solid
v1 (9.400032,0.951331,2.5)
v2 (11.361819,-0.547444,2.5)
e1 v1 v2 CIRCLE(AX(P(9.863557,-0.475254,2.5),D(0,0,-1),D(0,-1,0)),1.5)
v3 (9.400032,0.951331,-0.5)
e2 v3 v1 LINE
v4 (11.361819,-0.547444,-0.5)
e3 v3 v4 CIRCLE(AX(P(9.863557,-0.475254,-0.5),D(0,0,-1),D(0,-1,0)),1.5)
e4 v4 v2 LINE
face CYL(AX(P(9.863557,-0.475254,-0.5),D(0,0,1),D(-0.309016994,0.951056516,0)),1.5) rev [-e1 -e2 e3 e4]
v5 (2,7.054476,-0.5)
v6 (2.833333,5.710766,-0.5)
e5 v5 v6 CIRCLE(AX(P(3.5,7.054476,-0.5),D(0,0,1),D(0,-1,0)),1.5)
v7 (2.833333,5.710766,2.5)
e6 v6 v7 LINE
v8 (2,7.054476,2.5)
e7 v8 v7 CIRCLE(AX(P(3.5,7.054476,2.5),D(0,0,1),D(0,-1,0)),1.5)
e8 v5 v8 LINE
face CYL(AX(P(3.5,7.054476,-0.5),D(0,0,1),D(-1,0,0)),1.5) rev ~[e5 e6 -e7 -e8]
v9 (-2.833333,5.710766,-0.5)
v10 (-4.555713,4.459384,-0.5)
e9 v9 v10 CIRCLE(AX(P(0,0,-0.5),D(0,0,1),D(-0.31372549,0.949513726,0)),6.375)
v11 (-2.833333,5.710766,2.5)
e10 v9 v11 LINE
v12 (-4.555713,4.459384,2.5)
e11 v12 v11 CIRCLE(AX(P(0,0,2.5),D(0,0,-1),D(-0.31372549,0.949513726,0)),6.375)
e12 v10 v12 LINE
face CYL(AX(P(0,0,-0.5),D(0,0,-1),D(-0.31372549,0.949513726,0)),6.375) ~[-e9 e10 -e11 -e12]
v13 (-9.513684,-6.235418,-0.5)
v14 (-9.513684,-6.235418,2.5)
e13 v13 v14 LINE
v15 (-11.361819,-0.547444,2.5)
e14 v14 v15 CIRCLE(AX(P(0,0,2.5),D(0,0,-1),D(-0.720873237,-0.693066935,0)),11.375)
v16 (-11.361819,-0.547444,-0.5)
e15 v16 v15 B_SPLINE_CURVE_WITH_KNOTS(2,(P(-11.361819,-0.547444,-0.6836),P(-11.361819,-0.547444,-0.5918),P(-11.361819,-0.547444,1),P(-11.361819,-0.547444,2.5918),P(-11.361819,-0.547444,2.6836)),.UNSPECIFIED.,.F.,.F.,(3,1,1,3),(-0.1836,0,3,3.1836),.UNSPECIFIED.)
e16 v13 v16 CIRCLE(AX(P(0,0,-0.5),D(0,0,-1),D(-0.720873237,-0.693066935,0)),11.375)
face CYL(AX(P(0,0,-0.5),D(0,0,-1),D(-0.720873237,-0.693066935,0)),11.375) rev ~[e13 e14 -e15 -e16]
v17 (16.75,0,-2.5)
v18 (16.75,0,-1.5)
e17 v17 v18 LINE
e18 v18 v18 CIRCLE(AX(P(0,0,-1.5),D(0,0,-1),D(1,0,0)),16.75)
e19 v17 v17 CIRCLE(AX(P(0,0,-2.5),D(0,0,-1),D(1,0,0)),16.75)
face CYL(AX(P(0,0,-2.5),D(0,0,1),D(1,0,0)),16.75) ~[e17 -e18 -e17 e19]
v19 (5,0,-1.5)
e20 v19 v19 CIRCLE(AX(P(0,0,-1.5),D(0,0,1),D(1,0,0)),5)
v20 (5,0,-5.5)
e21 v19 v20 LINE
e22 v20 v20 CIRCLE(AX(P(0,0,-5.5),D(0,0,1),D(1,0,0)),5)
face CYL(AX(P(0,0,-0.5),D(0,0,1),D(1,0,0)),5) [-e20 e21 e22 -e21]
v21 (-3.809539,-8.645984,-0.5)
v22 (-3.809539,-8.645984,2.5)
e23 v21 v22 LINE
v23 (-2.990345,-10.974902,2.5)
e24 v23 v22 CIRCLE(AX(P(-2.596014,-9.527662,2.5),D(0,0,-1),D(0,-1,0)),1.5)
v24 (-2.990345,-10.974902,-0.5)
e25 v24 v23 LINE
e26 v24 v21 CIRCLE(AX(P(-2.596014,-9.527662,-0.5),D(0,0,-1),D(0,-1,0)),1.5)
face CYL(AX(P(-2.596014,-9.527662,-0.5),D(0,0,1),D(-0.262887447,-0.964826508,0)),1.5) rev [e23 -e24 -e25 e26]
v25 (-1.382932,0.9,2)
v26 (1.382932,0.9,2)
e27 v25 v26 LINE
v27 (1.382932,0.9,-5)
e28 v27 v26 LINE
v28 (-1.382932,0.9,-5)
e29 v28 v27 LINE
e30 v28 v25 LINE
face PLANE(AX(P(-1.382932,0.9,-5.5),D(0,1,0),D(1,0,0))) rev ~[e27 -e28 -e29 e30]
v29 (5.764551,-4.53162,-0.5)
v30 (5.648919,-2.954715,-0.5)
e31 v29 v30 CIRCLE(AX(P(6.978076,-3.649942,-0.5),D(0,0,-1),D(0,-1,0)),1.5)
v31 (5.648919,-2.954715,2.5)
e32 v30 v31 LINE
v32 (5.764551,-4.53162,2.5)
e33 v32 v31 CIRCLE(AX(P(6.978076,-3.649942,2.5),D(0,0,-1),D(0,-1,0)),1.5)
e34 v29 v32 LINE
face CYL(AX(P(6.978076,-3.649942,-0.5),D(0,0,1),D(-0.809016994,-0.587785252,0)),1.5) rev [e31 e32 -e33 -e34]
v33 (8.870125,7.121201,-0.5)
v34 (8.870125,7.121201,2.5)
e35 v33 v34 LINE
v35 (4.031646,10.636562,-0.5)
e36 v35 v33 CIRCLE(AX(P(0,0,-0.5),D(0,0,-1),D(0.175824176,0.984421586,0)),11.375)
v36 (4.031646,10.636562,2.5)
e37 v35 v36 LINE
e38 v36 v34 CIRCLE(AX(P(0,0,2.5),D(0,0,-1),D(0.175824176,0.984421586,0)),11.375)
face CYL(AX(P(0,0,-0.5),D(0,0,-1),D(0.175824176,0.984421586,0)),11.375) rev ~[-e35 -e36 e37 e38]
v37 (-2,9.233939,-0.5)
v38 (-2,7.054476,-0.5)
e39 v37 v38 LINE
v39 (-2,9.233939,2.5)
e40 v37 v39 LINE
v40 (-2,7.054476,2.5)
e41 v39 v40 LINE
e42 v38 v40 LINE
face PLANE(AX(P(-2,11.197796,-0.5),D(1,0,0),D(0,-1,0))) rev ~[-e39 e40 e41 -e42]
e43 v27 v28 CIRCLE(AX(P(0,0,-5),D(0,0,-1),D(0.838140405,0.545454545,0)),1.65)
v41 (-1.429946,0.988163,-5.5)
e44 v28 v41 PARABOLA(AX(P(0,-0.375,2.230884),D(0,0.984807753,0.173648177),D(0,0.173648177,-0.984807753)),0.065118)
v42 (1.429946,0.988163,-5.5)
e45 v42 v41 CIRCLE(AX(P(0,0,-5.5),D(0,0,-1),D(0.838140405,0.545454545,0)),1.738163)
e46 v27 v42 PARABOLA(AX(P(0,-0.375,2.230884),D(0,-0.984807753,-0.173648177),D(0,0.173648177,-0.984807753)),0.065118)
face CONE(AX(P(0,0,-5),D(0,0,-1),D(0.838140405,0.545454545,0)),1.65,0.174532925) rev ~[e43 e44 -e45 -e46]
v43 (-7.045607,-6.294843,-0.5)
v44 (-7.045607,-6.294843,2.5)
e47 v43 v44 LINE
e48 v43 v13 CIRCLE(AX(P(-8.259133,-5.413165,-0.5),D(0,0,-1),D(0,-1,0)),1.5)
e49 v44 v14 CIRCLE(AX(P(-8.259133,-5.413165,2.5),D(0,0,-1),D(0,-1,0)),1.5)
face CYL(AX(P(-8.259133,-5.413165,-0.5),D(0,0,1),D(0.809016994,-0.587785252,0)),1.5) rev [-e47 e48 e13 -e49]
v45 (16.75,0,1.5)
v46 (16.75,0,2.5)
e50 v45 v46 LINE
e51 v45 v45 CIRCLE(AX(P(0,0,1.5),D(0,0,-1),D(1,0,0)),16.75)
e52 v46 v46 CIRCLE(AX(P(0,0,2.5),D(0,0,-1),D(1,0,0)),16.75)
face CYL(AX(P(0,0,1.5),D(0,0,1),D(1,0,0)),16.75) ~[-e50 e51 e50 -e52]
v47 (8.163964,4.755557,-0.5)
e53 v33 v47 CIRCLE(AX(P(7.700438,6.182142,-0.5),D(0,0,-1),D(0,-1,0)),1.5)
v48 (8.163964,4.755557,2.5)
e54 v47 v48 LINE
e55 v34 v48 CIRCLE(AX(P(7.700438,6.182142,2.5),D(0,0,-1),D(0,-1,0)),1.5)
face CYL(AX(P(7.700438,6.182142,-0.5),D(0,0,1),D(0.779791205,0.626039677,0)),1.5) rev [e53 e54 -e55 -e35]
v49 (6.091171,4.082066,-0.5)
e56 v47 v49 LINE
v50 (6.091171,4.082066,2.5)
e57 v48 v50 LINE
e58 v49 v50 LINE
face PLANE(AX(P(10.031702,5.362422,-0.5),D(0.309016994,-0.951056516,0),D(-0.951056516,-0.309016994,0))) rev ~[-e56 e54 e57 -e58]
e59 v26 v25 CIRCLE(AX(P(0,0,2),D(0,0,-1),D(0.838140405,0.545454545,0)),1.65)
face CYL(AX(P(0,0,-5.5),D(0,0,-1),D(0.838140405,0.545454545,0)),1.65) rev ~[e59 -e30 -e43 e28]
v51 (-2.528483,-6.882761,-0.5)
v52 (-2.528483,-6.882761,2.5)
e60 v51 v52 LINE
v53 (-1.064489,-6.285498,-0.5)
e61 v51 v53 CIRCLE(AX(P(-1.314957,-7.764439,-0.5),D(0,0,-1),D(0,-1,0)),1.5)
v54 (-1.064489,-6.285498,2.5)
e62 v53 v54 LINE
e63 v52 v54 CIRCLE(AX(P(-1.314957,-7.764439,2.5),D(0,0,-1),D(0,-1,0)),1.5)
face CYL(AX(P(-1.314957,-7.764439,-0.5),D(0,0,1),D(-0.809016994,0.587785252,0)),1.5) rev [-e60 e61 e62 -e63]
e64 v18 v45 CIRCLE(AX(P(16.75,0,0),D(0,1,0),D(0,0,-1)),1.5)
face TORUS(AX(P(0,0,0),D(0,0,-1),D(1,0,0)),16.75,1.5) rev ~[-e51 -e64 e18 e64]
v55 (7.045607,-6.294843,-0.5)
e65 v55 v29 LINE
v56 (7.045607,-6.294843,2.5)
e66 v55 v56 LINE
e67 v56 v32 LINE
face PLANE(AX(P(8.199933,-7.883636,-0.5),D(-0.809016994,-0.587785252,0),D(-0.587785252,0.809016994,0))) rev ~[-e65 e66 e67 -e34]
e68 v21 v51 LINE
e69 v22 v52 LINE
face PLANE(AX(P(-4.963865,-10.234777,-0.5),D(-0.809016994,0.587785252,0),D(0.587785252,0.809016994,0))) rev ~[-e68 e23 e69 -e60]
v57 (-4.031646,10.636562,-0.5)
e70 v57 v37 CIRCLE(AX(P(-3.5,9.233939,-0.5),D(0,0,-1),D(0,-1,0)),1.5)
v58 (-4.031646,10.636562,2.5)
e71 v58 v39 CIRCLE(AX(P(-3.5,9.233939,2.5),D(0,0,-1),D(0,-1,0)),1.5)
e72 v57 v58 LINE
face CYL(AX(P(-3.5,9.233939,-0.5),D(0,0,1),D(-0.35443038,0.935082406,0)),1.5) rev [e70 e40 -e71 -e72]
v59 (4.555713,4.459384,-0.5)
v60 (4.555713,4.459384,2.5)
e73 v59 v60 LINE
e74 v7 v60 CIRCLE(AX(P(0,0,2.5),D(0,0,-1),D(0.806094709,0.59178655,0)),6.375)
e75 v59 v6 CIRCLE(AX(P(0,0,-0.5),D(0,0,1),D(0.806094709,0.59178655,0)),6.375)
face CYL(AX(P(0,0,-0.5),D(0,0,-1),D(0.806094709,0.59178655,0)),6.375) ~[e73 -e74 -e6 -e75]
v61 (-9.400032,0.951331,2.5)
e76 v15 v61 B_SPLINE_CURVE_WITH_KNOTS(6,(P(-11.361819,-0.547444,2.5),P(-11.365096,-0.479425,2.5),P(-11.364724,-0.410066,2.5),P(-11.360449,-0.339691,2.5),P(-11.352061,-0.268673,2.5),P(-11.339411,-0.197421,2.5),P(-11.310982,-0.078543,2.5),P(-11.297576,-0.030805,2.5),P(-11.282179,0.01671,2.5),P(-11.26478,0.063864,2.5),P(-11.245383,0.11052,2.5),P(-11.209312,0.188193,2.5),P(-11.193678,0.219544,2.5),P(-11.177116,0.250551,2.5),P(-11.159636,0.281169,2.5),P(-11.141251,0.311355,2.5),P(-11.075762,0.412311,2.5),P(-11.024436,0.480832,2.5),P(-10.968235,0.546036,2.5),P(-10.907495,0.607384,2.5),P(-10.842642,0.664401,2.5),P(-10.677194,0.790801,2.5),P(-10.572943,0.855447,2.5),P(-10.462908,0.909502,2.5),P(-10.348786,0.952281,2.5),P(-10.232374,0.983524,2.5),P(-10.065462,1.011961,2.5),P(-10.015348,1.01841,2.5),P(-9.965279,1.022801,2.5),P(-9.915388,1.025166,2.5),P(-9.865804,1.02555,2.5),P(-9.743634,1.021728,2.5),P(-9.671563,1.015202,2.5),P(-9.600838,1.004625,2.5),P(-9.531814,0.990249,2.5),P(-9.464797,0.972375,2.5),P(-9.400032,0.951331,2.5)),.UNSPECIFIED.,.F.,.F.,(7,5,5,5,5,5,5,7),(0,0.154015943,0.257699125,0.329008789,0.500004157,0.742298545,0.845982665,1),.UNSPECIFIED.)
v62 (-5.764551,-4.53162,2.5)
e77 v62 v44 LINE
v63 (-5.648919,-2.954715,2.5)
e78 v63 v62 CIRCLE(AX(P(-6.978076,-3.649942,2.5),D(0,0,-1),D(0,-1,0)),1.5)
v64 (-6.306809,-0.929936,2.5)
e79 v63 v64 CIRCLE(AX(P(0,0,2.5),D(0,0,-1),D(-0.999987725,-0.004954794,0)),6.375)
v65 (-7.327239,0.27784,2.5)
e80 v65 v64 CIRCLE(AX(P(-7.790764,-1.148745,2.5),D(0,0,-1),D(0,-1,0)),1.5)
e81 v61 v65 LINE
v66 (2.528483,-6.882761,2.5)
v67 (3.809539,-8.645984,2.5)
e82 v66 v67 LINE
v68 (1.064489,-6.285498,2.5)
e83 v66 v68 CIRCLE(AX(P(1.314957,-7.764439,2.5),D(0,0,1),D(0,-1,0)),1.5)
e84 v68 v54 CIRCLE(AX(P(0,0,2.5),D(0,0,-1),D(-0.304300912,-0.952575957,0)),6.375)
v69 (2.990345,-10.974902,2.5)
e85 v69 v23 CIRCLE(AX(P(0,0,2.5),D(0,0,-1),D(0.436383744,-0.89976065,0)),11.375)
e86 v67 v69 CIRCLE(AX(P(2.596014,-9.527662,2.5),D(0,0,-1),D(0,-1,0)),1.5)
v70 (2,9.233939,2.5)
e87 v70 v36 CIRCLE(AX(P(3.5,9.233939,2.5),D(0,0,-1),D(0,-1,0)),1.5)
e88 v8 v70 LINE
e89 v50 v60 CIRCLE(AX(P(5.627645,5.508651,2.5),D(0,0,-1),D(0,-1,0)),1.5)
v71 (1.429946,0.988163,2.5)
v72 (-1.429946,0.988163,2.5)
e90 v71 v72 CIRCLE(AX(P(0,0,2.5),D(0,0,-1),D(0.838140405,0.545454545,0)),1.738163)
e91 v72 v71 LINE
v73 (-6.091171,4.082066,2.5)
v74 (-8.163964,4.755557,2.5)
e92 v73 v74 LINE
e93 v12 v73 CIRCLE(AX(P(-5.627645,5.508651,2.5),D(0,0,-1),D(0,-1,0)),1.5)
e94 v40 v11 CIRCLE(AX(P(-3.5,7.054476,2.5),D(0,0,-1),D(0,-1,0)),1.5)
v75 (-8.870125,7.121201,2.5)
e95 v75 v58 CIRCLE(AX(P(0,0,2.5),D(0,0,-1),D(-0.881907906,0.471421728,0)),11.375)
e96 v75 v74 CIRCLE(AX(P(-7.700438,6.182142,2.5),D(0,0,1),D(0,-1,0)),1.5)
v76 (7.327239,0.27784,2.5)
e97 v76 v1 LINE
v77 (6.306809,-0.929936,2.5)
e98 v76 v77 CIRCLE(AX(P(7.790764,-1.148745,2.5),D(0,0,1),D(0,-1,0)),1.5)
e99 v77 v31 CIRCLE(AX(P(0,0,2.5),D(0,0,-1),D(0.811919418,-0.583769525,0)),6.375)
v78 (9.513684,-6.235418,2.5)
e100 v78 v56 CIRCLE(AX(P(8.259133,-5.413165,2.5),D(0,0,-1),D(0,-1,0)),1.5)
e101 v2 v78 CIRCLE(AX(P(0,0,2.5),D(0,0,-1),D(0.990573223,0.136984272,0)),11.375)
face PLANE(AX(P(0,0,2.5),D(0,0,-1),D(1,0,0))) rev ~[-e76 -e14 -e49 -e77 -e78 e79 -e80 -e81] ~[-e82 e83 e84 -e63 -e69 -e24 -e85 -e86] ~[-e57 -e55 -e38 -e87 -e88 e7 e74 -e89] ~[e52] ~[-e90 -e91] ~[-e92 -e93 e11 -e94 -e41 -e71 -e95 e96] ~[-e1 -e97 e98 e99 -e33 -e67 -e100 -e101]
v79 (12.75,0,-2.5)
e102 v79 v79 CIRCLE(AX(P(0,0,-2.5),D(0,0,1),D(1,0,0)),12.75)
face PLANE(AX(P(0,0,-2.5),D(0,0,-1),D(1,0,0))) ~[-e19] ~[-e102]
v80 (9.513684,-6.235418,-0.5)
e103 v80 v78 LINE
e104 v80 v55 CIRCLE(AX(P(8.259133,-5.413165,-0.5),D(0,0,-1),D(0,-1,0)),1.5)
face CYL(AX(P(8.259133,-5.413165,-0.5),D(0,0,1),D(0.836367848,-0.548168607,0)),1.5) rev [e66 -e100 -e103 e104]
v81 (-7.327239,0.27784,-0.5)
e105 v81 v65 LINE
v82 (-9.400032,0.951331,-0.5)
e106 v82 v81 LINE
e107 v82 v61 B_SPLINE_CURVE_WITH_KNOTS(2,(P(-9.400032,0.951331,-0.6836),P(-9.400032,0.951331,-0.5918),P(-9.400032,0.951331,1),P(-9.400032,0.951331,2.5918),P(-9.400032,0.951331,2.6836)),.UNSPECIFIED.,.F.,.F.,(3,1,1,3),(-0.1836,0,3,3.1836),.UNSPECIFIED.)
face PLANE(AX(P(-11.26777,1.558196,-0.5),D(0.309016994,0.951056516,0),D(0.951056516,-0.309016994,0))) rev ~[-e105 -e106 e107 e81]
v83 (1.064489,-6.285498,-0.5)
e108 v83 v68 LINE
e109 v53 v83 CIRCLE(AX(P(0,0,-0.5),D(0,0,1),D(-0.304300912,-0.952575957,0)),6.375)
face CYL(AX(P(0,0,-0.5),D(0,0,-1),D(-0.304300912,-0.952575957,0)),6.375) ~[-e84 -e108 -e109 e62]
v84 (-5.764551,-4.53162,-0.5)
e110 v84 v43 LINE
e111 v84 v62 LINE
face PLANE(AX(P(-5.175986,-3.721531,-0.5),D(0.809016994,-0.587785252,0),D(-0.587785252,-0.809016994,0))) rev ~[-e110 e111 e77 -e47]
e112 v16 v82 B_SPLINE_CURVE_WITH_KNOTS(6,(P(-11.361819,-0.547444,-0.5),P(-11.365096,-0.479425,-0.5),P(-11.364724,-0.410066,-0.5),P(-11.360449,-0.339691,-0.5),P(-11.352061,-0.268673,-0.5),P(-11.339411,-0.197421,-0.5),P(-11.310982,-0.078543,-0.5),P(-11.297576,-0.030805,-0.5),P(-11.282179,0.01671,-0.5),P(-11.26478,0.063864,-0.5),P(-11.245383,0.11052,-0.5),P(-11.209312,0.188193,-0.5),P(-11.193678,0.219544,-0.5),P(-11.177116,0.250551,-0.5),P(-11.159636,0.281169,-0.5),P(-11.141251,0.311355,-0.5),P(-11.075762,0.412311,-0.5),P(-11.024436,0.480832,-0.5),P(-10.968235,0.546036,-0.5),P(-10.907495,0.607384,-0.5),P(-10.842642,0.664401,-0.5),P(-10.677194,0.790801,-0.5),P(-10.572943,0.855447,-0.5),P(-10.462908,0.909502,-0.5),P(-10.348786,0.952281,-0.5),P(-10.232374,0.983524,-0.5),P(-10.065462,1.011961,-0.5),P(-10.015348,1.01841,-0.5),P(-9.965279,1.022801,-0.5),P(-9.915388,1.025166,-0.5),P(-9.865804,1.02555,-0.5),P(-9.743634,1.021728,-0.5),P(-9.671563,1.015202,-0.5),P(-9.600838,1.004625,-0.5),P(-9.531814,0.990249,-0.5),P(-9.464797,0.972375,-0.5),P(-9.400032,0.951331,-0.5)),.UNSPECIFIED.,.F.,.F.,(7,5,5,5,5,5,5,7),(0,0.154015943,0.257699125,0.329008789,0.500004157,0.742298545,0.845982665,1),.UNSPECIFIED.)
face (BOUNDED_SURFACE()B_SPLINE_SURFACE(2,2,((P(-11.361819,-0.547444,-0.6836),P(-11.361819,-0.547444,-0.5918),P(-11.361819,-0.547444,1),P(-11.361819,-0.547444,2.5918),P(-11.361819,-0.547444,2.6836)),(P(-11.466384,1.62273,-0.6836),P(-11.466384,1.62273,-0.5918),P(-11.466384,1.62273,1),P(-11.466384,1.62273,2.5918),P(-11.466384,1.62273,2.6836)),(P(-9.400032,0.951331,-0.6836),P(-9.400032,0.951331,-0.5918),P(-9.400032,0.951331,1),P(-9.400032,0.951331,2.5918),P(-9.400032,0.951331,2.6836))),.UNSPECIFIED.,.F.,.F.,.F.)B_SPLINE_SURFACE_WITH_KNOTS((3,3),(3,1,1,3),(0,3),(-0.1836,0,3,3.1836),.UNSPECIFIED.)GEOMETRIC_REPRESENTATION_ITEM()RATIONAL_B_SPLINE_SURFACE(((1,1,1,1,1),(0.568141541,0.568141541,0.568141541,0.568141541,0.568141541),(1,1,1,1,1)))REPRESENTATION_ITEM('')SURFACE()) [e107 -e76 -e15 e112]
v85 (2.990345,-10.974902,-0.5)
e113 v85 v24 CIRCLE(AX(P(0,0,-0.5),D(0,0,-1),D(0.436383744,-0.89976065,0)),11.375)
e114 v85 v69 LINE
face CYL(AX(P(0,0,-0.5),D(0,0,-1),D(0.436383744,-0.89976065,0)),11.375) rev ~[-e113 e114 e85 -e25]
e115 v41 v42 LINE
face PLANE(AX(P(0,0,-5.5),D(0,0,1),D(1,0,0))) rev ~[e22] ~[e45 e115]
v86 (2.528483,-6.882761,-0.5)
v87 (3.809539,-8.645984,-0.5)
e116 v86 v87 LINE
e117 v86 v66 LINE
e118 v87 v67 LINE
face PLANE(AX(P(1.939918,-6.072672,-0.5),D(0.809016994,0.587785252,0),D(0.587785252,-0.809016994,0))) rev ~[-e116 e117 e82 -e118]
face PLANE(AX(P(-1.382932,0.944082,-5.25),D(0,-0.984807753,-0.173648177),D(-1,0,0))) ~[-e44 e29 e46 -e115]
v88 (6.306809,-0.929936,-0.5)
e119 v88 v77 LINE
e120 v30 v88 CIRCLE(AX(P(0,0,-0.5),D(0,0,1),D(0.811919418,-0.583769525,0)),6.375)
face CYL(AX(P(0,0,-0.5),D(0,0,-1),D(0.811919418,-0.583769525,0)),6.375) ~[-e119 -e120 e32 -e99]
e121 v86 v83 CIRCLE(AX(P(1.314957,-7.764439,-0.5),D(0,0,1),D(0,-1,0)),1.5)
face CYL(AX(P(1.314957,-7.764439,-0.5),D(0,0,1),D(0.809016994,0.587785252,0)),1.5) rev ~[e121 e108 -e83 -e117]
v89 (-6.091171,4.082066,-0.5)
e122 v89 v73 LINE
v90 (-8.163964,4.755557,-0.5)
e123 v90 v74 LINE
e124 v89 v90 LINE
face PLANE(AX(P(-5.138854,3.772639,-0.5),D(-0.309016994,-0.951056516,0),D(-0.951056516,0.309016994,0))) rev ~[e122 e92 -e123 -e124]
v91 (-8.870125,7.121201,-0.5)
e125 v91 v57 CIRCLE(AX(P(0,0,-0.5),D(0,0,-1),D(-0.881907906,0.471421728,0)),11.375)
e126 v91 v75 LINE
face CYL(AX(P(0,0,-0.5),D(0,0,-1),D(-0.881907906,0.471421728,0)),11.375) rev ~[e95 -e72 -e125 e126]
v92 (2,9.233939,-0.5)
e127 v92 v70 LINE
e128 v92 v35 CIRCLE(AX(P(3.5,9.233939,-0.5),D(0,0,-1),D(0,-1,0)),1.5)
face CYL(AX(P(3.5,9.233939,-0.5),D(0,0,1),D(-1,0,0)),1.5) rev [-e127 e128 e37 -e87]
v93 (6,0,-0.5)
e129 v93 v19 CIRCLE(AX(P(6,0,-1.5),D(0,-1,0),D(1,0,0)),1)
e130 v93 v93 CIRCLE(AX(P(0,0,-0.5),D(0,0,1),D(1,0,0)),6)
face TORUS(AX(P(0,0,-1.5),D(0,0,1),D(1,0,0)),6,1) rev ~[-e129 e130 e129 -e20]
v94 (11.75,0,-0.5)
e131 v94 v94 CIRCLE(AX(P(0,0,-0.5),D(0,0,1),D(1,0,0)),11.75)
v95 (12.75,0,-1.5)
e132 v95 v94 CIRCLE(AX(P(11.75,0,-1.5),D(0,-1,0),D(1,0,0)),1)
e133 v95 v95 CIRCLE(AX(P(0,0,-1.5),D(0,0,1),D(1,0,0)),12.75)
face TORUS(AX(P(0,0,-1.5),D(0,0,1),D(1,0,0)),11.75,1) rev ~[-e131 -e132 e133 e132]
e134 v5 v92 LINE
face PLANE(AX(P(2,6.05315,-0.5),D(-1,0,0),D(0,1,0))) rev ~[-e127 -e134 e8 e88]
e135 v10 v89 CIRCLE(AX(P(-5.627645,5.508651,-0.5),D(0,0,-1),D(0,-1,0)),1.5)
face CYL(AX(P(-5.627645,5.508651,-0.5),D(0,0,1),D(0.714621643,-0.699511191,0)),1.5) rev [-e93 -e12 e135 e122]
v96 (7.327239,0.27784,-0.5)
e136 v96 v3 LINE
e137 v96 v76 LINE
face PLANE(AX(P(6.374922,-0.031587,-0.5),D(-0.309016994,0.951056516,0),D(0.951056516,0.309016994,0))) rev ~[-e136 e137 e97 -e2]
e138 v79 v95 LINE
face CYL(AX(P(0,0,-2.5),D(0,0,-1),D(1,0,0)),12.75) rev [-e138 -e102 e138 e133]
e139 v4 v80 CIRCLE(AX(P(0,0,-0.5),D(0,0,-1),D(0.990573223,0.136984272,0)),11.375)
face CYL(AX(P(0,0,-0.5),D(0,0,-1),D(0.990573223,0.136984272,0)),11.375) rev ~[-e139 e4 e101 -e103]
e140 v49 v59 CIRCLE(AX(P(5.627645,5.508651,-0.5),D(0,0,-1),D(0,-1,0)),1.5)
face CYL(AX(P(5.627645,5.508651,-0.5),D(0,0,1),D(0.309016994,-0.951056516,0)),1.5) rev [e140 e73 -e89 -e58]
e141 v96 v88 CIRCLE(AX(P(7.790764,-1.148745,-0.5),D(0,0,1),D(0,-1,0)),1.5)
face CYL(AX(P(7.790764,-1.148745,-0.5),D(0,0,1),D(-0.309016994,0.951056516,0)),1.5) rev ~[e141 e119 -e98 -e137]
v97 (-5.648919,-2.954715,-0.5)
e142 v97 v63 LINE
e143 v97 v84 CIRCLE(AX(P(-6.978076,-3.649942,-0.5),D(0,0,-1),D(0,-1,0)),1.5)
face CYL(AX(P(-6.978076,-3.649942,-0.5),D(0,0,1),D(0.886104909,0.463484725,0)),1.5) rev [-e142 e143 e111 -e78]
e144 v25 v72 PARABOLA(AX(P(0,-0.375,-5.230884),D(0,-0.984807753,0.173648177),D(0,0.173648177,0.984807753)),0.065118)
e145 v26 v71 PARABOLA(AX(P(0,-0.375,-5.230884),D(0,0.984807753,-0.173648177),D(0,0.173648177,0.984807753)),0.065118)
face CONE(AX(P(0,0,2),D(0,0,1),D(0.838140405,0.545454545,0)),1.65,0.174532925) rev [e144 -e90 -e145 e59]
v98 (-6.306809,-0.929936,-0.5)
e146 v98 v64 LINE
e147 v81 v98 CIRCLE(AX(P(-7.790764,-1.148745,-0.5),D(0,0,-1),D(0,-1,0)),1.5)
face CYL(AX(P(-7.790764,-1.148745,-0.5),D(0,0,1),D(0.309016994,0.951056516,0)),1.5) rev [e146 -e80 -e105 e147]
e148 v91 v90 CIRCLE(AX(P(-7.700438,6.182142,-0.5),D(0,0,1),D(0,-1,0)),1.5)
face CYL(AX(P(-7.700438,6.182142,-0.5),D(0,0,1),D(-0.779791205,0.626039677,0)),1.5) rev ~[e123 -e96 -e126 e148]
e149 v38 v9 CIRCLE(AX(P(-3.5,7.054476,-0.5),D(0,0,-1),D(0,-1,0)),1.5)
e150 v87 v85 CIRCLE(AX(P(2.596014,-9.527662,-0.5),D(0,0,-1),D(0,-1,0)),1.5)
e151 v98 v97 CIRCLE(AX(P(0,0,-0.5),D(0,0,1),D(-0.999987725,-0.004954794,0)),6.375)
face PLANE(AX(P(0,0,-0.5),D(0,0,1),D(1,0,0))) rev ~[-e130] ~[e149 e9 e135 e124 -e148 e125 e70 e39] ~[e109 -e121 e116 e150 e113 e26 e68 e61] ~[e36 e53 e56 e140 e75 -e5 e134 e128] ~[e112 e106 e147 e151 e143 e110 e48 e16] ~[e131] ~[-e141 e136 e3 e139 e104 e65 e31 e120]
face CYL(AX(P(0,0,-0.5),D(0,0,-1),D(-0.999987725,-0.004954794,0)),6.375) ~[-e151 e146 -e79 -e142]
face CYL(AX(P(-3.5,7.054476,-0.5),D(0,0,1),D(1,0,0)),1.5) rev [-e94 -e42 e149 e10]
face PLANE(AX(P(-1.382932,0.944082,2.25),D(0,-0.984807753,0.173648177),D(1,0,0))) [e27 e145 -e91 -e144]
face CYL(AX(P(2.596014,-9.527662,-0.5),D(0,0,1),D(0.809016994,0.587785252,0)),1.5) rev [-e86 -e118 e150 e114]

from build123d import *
from OCP.BRepFilletAPI import BRepFilletAPI_MakeChamfer

# Parameters (mm, degrees)
SKETCH7_R           = 12.75
CUT_EXTRUDE3_DEPTH  = 2
SKETCH8_R           = 5
BOSS_EXTRUDE1_DEPTH = 5
CUT_EXTRUDE4_DEPTH  = 26.002499875
FILLET1_R           = 1
CHAMFER1_SIZE       = 0.5
CHAMFER1_SIZE2      = 0.08816349
CHAMFER2_SIZE       = 0.5
CHAMFER2_SIZE2      = 0.08816349
CUT_EXTRUDE7_DEPTH  = 25.210018587
FILLET3_R           = 1.5


with BuildPart() as part:
    # Sketch3 → Revolve1 (revolve)
    with BuildSketch(Plane(origin=(0, 0, 0), x_dir=(1, 0, 0), z_dir=(0, 1, 0)), mode=Mode.PRIVATE) as revolve1_sk:
        with BuildLine():
            Line((0, -2.5), (0, 2.5))
            Line((0, 2.5), (-16.75, 2.5))
            Line((-16.75, 2.5), (-16.75, 1.5))
            ThreePointArc((-16.75, 1.5), (-15.25, 0), (-16.75, -1.5))
            Line((-16.75, -1.5), (-16.75, -2.5))
            Line((-16.75, -2.5), (0, -2.5))
        make_face()
    revolve(revolve1_sk.sketch.rotate(Axis((0, 0, 2.5), (0, 0, -1)), 180), axis=Axis((0, 0, 2.5), (0, 0, -1)))

    # Sketch7 → Cut-Extrude3 (cut)
    with BuildSketch(Plane.XY.offset(-2.5)):
        Circle(SKETCH7_R)
    extrude(amount=CUT_EXTRUDE3_DEPTH, mode=Mode.SUBTRACT)

    # Sketch8 → Boss-Extrude1 (add)
    with BuildSketch(Plane.XY.offset(-0.5)):
        Circle(SKETCH8_R)
    extrude(amount=-BOSS_EXTRUDE1_DEPTH)

    # Sketch6 → Cut-Extrude4 (cut, through all)
    with BuildSketch(Plane.XY.offset(-5.5)):
        with BuildLine():
            Line((-1.382931669, 0.9), (1.382931669, 0.9))
            ThreePointArc((1.382931669, 0.9), (0, -1.65), (-1.382931669, 0.9))
        make_face()
    extrude(amount=CUT_EXTRUDE4_DEPTH, mode=Mode.SUBTRACT)

    # Fillet1
    fillet1_edges = [part.edges().sort_by_distance(p)[0] for p in [
        (-12.75, 0, -0.5),
        (-5, 0, -0.5),
    ]]
    fillet(fillet1_edges, radius=FILLET1_R)

    # Chamfer1: one chamfer whose edges measure the first distance from different faces: ONE call of the kernel's chamfer builder (chamfer() names one face for all edges)
    chamfer1_edges_1 = [part.edges().sort_by_distance(p)[0] for p in [
        (0, -1.65, -5.5),
    ]]
    chamfer1_side_1 = [part.faces().sort_by_distance(p)[0] for p in [
        (0, -1.65, -1.5),
    ]]
    chamfer1_edges_2 = [part.edges().sort_by_distance(p)[0] for p in [
        (0, 0.9, -5.5),
    ]]
    chamfer1_side_2 = [part.faces().sort_by_distance(p)[0] for p in [
        (0, 0.9, -1.5),
    ]]
    chamfer1 = BRepFilletAPI_MakeChamfer(part.part.solid().wrapped)
    for e in chamfer1_edges_1:
        chamfer1.Add(CHAMFER1_SIZE, CHAMFER1_SIZE2, e.wrapped, chamfer1_side_1[0].wrapped)  # the first distance lies on this face
    for e in chamfer1_edges_2:
        chamfer1.Add(CHAMFER1_SIZE, CHAMFER1_SIZE2, e.wrapped, chamfer1_side_2[0].wrapped)  # the first distance lies on this face
    add(Compound.cast(chamfer1.Shape()), mode=Mode.REPLACE)

    # Chamfer2: one chamfer whose edges measure the first distance from different faces: ONE call of the kernel's chamfer builder (chamfer() names one face for all edges)
    chamfer2_edges_1 = [part.edges().sort_by_distance(p)[0] for p in [
        (0, 0.9, 2.5),
    ]]
    chamfer2_side_1 = [part.faces().sort_by_distance(p)[0] for p in [
        (0, 0.9, -1.25),
    ]]
    chamfer2_edges_2 = [part.edges().sort_by_distance(p)[0] for p in [
        (0, -1.65, 2.5),
    ]]
    chamfer2_side_2 = [part.faces().sort_by_distance(p)[0] for p in [
        (0, -1.65, -1.25),
    ]]
    chamfer2 = BRepFilletAPI_MakeChamfer(part.part.solid().wrapped)
    for e in chamfer2_edges_1:
        chamfer2.Add(CHAMFER2_SIZE, CHAMFER2_SIZE2, e.wrapped, chamfer2_side_1[0].wrapped)  # the first distance lies on this face
    for e in chamfer2_edges_2:
        chamfer2.Add(CHAMFER2_SIZE, CHAMFER2_SIZE2, e.wrapped, chamfer2_side_2[0].wrapped)  # the first distance lies on this face
    add(Compound.cast(chamfer2.Shape()), mode=Mode.REPLACE)

    # Sketch11 → Cut-Extrude7 (cut, through all)
    with BuildSketch(Plane(origin=(0, 0, -0.5), x_dir=(-1, 0, 0), z_dir=(0, 0, -1))):
        with BuildLine():
            Line((-2, 6.053150006), (-2, 11.197795542))
            ThreePointArc((-2, 11.197795542), (-6.686057245, 9.202568311), (-10.03170243, 5.362422155))
            Line((-10.03170243, 5.362422155), (-5.138853769, 3.772639254))
            ThreePointArc((-5.138853769, 3.772639254), (-3.747130983, 5.157483339), (-2, 6.053150006))
        make_face()
        with BuildLine():
            ThreePointArc((10.03170243, 5.362422155), (6.686057245, 9.202568311), (2, 11.197795542))
            Line((2, 11.197795542), (2, 6.053150006))
            ThreePointArc((2, 6.053150006), (3.747130983, 5.157483339), (5.138853769, 3.772639254))
            Line((5.138853769, 3.772639254), (10.03170243, 5.362422155))
        make_face()
        with BuildLine():
            Line((-6.374921746, -0.031586811), (-11.267770407, 1.558196089))
            ThreePointArc((-11.267770407, 1.558196089), (-10.818267873, -3.515068311), (-8.199933067, -7.883636388))
            Line((-8.199933067, -7.883636388), (-5.175986292, -3.72153072))
            ThreePointArc((-5.175986292, -3.72153072), (-6.062985291, -1.969983339), (-6.374921746, -0.031586811))
        make_face()
        with BuildLine():
            ThreePointArc((11.375, 0), (11.348160939, 0.780940657), (11.267770407, 1.558196089))
            Line((11.267770407, 1.558196089), (6.374921746, -0.031586811))
            ThreePointArc((6.374921746, -0.031586811), (6.062985291, -1.969983339), (5.175986292, -3.72153072))
            Line((5.175986292, -3.72153072), (8.199933067, -7.883636388))
            ThreePointArc((8.199933067, -7.883636388), (10.551418474, -4.249493286), (11.375, 0))
        make_face()
        with BuildLine():
            Line((-1.939918315, -6.072671729), (-4.963865089, -10.234777398))
            ThreePointArc((-4.963865089, -10.234777398), (0, -11.375), (4.963865089, -10.234777398))
            Line((4.963865089, -10.234777398), (1.939918315, -6.072671729))
            ThreePointArc((1.939918315, -6.072671729), (0, -6.375), (-1.939918315, -6.072671729))
        make_face()
    extrude(amount=-CUT_EXTRUDE7_DEPTH, mode=Mode.SUBTRACT)

    # Fillet3
    fillet3_edges = [part.edges().sort_by_distance(p)[0] for p in [
        (-5.138853769, 3.772639254, 1),
        (-2, 6.053150006, 1),
        (-2, 11.197795542, 1),
        (-10.03170243, 5.362422155, 1),
        (6.374921746, -0.031586811, 1),
        (5.175986292, -3.72153072, 1),
        (8.199933067, -7.883636388, 1),
        (11.267770407, 1.558196089, 1),
        (-5.175986292, -3.72153072, 1),
        (-6.374921746, -0.031586811, 1),
        (-11.267770407, 1.558196089, 1),
        (-8.199933067, -7.883636388, 1),
        (1.939918315, -6.072671729, 1),
        (-1.939918315, -6.072671729, 1),
        (-4.963865089, -10.234777398, 1),
        (4.963865089, -10.234777398, 1),
        (2, 6.053150006, 1),
        (5.138853769, 3.772639254, 1),
        (10.03170243, 5.362422155, 1),
        (2, 11.197795542, 1),
    ]]
    fillet(fillet3_edges, radius=FILLET3_R)


solid = part.part
